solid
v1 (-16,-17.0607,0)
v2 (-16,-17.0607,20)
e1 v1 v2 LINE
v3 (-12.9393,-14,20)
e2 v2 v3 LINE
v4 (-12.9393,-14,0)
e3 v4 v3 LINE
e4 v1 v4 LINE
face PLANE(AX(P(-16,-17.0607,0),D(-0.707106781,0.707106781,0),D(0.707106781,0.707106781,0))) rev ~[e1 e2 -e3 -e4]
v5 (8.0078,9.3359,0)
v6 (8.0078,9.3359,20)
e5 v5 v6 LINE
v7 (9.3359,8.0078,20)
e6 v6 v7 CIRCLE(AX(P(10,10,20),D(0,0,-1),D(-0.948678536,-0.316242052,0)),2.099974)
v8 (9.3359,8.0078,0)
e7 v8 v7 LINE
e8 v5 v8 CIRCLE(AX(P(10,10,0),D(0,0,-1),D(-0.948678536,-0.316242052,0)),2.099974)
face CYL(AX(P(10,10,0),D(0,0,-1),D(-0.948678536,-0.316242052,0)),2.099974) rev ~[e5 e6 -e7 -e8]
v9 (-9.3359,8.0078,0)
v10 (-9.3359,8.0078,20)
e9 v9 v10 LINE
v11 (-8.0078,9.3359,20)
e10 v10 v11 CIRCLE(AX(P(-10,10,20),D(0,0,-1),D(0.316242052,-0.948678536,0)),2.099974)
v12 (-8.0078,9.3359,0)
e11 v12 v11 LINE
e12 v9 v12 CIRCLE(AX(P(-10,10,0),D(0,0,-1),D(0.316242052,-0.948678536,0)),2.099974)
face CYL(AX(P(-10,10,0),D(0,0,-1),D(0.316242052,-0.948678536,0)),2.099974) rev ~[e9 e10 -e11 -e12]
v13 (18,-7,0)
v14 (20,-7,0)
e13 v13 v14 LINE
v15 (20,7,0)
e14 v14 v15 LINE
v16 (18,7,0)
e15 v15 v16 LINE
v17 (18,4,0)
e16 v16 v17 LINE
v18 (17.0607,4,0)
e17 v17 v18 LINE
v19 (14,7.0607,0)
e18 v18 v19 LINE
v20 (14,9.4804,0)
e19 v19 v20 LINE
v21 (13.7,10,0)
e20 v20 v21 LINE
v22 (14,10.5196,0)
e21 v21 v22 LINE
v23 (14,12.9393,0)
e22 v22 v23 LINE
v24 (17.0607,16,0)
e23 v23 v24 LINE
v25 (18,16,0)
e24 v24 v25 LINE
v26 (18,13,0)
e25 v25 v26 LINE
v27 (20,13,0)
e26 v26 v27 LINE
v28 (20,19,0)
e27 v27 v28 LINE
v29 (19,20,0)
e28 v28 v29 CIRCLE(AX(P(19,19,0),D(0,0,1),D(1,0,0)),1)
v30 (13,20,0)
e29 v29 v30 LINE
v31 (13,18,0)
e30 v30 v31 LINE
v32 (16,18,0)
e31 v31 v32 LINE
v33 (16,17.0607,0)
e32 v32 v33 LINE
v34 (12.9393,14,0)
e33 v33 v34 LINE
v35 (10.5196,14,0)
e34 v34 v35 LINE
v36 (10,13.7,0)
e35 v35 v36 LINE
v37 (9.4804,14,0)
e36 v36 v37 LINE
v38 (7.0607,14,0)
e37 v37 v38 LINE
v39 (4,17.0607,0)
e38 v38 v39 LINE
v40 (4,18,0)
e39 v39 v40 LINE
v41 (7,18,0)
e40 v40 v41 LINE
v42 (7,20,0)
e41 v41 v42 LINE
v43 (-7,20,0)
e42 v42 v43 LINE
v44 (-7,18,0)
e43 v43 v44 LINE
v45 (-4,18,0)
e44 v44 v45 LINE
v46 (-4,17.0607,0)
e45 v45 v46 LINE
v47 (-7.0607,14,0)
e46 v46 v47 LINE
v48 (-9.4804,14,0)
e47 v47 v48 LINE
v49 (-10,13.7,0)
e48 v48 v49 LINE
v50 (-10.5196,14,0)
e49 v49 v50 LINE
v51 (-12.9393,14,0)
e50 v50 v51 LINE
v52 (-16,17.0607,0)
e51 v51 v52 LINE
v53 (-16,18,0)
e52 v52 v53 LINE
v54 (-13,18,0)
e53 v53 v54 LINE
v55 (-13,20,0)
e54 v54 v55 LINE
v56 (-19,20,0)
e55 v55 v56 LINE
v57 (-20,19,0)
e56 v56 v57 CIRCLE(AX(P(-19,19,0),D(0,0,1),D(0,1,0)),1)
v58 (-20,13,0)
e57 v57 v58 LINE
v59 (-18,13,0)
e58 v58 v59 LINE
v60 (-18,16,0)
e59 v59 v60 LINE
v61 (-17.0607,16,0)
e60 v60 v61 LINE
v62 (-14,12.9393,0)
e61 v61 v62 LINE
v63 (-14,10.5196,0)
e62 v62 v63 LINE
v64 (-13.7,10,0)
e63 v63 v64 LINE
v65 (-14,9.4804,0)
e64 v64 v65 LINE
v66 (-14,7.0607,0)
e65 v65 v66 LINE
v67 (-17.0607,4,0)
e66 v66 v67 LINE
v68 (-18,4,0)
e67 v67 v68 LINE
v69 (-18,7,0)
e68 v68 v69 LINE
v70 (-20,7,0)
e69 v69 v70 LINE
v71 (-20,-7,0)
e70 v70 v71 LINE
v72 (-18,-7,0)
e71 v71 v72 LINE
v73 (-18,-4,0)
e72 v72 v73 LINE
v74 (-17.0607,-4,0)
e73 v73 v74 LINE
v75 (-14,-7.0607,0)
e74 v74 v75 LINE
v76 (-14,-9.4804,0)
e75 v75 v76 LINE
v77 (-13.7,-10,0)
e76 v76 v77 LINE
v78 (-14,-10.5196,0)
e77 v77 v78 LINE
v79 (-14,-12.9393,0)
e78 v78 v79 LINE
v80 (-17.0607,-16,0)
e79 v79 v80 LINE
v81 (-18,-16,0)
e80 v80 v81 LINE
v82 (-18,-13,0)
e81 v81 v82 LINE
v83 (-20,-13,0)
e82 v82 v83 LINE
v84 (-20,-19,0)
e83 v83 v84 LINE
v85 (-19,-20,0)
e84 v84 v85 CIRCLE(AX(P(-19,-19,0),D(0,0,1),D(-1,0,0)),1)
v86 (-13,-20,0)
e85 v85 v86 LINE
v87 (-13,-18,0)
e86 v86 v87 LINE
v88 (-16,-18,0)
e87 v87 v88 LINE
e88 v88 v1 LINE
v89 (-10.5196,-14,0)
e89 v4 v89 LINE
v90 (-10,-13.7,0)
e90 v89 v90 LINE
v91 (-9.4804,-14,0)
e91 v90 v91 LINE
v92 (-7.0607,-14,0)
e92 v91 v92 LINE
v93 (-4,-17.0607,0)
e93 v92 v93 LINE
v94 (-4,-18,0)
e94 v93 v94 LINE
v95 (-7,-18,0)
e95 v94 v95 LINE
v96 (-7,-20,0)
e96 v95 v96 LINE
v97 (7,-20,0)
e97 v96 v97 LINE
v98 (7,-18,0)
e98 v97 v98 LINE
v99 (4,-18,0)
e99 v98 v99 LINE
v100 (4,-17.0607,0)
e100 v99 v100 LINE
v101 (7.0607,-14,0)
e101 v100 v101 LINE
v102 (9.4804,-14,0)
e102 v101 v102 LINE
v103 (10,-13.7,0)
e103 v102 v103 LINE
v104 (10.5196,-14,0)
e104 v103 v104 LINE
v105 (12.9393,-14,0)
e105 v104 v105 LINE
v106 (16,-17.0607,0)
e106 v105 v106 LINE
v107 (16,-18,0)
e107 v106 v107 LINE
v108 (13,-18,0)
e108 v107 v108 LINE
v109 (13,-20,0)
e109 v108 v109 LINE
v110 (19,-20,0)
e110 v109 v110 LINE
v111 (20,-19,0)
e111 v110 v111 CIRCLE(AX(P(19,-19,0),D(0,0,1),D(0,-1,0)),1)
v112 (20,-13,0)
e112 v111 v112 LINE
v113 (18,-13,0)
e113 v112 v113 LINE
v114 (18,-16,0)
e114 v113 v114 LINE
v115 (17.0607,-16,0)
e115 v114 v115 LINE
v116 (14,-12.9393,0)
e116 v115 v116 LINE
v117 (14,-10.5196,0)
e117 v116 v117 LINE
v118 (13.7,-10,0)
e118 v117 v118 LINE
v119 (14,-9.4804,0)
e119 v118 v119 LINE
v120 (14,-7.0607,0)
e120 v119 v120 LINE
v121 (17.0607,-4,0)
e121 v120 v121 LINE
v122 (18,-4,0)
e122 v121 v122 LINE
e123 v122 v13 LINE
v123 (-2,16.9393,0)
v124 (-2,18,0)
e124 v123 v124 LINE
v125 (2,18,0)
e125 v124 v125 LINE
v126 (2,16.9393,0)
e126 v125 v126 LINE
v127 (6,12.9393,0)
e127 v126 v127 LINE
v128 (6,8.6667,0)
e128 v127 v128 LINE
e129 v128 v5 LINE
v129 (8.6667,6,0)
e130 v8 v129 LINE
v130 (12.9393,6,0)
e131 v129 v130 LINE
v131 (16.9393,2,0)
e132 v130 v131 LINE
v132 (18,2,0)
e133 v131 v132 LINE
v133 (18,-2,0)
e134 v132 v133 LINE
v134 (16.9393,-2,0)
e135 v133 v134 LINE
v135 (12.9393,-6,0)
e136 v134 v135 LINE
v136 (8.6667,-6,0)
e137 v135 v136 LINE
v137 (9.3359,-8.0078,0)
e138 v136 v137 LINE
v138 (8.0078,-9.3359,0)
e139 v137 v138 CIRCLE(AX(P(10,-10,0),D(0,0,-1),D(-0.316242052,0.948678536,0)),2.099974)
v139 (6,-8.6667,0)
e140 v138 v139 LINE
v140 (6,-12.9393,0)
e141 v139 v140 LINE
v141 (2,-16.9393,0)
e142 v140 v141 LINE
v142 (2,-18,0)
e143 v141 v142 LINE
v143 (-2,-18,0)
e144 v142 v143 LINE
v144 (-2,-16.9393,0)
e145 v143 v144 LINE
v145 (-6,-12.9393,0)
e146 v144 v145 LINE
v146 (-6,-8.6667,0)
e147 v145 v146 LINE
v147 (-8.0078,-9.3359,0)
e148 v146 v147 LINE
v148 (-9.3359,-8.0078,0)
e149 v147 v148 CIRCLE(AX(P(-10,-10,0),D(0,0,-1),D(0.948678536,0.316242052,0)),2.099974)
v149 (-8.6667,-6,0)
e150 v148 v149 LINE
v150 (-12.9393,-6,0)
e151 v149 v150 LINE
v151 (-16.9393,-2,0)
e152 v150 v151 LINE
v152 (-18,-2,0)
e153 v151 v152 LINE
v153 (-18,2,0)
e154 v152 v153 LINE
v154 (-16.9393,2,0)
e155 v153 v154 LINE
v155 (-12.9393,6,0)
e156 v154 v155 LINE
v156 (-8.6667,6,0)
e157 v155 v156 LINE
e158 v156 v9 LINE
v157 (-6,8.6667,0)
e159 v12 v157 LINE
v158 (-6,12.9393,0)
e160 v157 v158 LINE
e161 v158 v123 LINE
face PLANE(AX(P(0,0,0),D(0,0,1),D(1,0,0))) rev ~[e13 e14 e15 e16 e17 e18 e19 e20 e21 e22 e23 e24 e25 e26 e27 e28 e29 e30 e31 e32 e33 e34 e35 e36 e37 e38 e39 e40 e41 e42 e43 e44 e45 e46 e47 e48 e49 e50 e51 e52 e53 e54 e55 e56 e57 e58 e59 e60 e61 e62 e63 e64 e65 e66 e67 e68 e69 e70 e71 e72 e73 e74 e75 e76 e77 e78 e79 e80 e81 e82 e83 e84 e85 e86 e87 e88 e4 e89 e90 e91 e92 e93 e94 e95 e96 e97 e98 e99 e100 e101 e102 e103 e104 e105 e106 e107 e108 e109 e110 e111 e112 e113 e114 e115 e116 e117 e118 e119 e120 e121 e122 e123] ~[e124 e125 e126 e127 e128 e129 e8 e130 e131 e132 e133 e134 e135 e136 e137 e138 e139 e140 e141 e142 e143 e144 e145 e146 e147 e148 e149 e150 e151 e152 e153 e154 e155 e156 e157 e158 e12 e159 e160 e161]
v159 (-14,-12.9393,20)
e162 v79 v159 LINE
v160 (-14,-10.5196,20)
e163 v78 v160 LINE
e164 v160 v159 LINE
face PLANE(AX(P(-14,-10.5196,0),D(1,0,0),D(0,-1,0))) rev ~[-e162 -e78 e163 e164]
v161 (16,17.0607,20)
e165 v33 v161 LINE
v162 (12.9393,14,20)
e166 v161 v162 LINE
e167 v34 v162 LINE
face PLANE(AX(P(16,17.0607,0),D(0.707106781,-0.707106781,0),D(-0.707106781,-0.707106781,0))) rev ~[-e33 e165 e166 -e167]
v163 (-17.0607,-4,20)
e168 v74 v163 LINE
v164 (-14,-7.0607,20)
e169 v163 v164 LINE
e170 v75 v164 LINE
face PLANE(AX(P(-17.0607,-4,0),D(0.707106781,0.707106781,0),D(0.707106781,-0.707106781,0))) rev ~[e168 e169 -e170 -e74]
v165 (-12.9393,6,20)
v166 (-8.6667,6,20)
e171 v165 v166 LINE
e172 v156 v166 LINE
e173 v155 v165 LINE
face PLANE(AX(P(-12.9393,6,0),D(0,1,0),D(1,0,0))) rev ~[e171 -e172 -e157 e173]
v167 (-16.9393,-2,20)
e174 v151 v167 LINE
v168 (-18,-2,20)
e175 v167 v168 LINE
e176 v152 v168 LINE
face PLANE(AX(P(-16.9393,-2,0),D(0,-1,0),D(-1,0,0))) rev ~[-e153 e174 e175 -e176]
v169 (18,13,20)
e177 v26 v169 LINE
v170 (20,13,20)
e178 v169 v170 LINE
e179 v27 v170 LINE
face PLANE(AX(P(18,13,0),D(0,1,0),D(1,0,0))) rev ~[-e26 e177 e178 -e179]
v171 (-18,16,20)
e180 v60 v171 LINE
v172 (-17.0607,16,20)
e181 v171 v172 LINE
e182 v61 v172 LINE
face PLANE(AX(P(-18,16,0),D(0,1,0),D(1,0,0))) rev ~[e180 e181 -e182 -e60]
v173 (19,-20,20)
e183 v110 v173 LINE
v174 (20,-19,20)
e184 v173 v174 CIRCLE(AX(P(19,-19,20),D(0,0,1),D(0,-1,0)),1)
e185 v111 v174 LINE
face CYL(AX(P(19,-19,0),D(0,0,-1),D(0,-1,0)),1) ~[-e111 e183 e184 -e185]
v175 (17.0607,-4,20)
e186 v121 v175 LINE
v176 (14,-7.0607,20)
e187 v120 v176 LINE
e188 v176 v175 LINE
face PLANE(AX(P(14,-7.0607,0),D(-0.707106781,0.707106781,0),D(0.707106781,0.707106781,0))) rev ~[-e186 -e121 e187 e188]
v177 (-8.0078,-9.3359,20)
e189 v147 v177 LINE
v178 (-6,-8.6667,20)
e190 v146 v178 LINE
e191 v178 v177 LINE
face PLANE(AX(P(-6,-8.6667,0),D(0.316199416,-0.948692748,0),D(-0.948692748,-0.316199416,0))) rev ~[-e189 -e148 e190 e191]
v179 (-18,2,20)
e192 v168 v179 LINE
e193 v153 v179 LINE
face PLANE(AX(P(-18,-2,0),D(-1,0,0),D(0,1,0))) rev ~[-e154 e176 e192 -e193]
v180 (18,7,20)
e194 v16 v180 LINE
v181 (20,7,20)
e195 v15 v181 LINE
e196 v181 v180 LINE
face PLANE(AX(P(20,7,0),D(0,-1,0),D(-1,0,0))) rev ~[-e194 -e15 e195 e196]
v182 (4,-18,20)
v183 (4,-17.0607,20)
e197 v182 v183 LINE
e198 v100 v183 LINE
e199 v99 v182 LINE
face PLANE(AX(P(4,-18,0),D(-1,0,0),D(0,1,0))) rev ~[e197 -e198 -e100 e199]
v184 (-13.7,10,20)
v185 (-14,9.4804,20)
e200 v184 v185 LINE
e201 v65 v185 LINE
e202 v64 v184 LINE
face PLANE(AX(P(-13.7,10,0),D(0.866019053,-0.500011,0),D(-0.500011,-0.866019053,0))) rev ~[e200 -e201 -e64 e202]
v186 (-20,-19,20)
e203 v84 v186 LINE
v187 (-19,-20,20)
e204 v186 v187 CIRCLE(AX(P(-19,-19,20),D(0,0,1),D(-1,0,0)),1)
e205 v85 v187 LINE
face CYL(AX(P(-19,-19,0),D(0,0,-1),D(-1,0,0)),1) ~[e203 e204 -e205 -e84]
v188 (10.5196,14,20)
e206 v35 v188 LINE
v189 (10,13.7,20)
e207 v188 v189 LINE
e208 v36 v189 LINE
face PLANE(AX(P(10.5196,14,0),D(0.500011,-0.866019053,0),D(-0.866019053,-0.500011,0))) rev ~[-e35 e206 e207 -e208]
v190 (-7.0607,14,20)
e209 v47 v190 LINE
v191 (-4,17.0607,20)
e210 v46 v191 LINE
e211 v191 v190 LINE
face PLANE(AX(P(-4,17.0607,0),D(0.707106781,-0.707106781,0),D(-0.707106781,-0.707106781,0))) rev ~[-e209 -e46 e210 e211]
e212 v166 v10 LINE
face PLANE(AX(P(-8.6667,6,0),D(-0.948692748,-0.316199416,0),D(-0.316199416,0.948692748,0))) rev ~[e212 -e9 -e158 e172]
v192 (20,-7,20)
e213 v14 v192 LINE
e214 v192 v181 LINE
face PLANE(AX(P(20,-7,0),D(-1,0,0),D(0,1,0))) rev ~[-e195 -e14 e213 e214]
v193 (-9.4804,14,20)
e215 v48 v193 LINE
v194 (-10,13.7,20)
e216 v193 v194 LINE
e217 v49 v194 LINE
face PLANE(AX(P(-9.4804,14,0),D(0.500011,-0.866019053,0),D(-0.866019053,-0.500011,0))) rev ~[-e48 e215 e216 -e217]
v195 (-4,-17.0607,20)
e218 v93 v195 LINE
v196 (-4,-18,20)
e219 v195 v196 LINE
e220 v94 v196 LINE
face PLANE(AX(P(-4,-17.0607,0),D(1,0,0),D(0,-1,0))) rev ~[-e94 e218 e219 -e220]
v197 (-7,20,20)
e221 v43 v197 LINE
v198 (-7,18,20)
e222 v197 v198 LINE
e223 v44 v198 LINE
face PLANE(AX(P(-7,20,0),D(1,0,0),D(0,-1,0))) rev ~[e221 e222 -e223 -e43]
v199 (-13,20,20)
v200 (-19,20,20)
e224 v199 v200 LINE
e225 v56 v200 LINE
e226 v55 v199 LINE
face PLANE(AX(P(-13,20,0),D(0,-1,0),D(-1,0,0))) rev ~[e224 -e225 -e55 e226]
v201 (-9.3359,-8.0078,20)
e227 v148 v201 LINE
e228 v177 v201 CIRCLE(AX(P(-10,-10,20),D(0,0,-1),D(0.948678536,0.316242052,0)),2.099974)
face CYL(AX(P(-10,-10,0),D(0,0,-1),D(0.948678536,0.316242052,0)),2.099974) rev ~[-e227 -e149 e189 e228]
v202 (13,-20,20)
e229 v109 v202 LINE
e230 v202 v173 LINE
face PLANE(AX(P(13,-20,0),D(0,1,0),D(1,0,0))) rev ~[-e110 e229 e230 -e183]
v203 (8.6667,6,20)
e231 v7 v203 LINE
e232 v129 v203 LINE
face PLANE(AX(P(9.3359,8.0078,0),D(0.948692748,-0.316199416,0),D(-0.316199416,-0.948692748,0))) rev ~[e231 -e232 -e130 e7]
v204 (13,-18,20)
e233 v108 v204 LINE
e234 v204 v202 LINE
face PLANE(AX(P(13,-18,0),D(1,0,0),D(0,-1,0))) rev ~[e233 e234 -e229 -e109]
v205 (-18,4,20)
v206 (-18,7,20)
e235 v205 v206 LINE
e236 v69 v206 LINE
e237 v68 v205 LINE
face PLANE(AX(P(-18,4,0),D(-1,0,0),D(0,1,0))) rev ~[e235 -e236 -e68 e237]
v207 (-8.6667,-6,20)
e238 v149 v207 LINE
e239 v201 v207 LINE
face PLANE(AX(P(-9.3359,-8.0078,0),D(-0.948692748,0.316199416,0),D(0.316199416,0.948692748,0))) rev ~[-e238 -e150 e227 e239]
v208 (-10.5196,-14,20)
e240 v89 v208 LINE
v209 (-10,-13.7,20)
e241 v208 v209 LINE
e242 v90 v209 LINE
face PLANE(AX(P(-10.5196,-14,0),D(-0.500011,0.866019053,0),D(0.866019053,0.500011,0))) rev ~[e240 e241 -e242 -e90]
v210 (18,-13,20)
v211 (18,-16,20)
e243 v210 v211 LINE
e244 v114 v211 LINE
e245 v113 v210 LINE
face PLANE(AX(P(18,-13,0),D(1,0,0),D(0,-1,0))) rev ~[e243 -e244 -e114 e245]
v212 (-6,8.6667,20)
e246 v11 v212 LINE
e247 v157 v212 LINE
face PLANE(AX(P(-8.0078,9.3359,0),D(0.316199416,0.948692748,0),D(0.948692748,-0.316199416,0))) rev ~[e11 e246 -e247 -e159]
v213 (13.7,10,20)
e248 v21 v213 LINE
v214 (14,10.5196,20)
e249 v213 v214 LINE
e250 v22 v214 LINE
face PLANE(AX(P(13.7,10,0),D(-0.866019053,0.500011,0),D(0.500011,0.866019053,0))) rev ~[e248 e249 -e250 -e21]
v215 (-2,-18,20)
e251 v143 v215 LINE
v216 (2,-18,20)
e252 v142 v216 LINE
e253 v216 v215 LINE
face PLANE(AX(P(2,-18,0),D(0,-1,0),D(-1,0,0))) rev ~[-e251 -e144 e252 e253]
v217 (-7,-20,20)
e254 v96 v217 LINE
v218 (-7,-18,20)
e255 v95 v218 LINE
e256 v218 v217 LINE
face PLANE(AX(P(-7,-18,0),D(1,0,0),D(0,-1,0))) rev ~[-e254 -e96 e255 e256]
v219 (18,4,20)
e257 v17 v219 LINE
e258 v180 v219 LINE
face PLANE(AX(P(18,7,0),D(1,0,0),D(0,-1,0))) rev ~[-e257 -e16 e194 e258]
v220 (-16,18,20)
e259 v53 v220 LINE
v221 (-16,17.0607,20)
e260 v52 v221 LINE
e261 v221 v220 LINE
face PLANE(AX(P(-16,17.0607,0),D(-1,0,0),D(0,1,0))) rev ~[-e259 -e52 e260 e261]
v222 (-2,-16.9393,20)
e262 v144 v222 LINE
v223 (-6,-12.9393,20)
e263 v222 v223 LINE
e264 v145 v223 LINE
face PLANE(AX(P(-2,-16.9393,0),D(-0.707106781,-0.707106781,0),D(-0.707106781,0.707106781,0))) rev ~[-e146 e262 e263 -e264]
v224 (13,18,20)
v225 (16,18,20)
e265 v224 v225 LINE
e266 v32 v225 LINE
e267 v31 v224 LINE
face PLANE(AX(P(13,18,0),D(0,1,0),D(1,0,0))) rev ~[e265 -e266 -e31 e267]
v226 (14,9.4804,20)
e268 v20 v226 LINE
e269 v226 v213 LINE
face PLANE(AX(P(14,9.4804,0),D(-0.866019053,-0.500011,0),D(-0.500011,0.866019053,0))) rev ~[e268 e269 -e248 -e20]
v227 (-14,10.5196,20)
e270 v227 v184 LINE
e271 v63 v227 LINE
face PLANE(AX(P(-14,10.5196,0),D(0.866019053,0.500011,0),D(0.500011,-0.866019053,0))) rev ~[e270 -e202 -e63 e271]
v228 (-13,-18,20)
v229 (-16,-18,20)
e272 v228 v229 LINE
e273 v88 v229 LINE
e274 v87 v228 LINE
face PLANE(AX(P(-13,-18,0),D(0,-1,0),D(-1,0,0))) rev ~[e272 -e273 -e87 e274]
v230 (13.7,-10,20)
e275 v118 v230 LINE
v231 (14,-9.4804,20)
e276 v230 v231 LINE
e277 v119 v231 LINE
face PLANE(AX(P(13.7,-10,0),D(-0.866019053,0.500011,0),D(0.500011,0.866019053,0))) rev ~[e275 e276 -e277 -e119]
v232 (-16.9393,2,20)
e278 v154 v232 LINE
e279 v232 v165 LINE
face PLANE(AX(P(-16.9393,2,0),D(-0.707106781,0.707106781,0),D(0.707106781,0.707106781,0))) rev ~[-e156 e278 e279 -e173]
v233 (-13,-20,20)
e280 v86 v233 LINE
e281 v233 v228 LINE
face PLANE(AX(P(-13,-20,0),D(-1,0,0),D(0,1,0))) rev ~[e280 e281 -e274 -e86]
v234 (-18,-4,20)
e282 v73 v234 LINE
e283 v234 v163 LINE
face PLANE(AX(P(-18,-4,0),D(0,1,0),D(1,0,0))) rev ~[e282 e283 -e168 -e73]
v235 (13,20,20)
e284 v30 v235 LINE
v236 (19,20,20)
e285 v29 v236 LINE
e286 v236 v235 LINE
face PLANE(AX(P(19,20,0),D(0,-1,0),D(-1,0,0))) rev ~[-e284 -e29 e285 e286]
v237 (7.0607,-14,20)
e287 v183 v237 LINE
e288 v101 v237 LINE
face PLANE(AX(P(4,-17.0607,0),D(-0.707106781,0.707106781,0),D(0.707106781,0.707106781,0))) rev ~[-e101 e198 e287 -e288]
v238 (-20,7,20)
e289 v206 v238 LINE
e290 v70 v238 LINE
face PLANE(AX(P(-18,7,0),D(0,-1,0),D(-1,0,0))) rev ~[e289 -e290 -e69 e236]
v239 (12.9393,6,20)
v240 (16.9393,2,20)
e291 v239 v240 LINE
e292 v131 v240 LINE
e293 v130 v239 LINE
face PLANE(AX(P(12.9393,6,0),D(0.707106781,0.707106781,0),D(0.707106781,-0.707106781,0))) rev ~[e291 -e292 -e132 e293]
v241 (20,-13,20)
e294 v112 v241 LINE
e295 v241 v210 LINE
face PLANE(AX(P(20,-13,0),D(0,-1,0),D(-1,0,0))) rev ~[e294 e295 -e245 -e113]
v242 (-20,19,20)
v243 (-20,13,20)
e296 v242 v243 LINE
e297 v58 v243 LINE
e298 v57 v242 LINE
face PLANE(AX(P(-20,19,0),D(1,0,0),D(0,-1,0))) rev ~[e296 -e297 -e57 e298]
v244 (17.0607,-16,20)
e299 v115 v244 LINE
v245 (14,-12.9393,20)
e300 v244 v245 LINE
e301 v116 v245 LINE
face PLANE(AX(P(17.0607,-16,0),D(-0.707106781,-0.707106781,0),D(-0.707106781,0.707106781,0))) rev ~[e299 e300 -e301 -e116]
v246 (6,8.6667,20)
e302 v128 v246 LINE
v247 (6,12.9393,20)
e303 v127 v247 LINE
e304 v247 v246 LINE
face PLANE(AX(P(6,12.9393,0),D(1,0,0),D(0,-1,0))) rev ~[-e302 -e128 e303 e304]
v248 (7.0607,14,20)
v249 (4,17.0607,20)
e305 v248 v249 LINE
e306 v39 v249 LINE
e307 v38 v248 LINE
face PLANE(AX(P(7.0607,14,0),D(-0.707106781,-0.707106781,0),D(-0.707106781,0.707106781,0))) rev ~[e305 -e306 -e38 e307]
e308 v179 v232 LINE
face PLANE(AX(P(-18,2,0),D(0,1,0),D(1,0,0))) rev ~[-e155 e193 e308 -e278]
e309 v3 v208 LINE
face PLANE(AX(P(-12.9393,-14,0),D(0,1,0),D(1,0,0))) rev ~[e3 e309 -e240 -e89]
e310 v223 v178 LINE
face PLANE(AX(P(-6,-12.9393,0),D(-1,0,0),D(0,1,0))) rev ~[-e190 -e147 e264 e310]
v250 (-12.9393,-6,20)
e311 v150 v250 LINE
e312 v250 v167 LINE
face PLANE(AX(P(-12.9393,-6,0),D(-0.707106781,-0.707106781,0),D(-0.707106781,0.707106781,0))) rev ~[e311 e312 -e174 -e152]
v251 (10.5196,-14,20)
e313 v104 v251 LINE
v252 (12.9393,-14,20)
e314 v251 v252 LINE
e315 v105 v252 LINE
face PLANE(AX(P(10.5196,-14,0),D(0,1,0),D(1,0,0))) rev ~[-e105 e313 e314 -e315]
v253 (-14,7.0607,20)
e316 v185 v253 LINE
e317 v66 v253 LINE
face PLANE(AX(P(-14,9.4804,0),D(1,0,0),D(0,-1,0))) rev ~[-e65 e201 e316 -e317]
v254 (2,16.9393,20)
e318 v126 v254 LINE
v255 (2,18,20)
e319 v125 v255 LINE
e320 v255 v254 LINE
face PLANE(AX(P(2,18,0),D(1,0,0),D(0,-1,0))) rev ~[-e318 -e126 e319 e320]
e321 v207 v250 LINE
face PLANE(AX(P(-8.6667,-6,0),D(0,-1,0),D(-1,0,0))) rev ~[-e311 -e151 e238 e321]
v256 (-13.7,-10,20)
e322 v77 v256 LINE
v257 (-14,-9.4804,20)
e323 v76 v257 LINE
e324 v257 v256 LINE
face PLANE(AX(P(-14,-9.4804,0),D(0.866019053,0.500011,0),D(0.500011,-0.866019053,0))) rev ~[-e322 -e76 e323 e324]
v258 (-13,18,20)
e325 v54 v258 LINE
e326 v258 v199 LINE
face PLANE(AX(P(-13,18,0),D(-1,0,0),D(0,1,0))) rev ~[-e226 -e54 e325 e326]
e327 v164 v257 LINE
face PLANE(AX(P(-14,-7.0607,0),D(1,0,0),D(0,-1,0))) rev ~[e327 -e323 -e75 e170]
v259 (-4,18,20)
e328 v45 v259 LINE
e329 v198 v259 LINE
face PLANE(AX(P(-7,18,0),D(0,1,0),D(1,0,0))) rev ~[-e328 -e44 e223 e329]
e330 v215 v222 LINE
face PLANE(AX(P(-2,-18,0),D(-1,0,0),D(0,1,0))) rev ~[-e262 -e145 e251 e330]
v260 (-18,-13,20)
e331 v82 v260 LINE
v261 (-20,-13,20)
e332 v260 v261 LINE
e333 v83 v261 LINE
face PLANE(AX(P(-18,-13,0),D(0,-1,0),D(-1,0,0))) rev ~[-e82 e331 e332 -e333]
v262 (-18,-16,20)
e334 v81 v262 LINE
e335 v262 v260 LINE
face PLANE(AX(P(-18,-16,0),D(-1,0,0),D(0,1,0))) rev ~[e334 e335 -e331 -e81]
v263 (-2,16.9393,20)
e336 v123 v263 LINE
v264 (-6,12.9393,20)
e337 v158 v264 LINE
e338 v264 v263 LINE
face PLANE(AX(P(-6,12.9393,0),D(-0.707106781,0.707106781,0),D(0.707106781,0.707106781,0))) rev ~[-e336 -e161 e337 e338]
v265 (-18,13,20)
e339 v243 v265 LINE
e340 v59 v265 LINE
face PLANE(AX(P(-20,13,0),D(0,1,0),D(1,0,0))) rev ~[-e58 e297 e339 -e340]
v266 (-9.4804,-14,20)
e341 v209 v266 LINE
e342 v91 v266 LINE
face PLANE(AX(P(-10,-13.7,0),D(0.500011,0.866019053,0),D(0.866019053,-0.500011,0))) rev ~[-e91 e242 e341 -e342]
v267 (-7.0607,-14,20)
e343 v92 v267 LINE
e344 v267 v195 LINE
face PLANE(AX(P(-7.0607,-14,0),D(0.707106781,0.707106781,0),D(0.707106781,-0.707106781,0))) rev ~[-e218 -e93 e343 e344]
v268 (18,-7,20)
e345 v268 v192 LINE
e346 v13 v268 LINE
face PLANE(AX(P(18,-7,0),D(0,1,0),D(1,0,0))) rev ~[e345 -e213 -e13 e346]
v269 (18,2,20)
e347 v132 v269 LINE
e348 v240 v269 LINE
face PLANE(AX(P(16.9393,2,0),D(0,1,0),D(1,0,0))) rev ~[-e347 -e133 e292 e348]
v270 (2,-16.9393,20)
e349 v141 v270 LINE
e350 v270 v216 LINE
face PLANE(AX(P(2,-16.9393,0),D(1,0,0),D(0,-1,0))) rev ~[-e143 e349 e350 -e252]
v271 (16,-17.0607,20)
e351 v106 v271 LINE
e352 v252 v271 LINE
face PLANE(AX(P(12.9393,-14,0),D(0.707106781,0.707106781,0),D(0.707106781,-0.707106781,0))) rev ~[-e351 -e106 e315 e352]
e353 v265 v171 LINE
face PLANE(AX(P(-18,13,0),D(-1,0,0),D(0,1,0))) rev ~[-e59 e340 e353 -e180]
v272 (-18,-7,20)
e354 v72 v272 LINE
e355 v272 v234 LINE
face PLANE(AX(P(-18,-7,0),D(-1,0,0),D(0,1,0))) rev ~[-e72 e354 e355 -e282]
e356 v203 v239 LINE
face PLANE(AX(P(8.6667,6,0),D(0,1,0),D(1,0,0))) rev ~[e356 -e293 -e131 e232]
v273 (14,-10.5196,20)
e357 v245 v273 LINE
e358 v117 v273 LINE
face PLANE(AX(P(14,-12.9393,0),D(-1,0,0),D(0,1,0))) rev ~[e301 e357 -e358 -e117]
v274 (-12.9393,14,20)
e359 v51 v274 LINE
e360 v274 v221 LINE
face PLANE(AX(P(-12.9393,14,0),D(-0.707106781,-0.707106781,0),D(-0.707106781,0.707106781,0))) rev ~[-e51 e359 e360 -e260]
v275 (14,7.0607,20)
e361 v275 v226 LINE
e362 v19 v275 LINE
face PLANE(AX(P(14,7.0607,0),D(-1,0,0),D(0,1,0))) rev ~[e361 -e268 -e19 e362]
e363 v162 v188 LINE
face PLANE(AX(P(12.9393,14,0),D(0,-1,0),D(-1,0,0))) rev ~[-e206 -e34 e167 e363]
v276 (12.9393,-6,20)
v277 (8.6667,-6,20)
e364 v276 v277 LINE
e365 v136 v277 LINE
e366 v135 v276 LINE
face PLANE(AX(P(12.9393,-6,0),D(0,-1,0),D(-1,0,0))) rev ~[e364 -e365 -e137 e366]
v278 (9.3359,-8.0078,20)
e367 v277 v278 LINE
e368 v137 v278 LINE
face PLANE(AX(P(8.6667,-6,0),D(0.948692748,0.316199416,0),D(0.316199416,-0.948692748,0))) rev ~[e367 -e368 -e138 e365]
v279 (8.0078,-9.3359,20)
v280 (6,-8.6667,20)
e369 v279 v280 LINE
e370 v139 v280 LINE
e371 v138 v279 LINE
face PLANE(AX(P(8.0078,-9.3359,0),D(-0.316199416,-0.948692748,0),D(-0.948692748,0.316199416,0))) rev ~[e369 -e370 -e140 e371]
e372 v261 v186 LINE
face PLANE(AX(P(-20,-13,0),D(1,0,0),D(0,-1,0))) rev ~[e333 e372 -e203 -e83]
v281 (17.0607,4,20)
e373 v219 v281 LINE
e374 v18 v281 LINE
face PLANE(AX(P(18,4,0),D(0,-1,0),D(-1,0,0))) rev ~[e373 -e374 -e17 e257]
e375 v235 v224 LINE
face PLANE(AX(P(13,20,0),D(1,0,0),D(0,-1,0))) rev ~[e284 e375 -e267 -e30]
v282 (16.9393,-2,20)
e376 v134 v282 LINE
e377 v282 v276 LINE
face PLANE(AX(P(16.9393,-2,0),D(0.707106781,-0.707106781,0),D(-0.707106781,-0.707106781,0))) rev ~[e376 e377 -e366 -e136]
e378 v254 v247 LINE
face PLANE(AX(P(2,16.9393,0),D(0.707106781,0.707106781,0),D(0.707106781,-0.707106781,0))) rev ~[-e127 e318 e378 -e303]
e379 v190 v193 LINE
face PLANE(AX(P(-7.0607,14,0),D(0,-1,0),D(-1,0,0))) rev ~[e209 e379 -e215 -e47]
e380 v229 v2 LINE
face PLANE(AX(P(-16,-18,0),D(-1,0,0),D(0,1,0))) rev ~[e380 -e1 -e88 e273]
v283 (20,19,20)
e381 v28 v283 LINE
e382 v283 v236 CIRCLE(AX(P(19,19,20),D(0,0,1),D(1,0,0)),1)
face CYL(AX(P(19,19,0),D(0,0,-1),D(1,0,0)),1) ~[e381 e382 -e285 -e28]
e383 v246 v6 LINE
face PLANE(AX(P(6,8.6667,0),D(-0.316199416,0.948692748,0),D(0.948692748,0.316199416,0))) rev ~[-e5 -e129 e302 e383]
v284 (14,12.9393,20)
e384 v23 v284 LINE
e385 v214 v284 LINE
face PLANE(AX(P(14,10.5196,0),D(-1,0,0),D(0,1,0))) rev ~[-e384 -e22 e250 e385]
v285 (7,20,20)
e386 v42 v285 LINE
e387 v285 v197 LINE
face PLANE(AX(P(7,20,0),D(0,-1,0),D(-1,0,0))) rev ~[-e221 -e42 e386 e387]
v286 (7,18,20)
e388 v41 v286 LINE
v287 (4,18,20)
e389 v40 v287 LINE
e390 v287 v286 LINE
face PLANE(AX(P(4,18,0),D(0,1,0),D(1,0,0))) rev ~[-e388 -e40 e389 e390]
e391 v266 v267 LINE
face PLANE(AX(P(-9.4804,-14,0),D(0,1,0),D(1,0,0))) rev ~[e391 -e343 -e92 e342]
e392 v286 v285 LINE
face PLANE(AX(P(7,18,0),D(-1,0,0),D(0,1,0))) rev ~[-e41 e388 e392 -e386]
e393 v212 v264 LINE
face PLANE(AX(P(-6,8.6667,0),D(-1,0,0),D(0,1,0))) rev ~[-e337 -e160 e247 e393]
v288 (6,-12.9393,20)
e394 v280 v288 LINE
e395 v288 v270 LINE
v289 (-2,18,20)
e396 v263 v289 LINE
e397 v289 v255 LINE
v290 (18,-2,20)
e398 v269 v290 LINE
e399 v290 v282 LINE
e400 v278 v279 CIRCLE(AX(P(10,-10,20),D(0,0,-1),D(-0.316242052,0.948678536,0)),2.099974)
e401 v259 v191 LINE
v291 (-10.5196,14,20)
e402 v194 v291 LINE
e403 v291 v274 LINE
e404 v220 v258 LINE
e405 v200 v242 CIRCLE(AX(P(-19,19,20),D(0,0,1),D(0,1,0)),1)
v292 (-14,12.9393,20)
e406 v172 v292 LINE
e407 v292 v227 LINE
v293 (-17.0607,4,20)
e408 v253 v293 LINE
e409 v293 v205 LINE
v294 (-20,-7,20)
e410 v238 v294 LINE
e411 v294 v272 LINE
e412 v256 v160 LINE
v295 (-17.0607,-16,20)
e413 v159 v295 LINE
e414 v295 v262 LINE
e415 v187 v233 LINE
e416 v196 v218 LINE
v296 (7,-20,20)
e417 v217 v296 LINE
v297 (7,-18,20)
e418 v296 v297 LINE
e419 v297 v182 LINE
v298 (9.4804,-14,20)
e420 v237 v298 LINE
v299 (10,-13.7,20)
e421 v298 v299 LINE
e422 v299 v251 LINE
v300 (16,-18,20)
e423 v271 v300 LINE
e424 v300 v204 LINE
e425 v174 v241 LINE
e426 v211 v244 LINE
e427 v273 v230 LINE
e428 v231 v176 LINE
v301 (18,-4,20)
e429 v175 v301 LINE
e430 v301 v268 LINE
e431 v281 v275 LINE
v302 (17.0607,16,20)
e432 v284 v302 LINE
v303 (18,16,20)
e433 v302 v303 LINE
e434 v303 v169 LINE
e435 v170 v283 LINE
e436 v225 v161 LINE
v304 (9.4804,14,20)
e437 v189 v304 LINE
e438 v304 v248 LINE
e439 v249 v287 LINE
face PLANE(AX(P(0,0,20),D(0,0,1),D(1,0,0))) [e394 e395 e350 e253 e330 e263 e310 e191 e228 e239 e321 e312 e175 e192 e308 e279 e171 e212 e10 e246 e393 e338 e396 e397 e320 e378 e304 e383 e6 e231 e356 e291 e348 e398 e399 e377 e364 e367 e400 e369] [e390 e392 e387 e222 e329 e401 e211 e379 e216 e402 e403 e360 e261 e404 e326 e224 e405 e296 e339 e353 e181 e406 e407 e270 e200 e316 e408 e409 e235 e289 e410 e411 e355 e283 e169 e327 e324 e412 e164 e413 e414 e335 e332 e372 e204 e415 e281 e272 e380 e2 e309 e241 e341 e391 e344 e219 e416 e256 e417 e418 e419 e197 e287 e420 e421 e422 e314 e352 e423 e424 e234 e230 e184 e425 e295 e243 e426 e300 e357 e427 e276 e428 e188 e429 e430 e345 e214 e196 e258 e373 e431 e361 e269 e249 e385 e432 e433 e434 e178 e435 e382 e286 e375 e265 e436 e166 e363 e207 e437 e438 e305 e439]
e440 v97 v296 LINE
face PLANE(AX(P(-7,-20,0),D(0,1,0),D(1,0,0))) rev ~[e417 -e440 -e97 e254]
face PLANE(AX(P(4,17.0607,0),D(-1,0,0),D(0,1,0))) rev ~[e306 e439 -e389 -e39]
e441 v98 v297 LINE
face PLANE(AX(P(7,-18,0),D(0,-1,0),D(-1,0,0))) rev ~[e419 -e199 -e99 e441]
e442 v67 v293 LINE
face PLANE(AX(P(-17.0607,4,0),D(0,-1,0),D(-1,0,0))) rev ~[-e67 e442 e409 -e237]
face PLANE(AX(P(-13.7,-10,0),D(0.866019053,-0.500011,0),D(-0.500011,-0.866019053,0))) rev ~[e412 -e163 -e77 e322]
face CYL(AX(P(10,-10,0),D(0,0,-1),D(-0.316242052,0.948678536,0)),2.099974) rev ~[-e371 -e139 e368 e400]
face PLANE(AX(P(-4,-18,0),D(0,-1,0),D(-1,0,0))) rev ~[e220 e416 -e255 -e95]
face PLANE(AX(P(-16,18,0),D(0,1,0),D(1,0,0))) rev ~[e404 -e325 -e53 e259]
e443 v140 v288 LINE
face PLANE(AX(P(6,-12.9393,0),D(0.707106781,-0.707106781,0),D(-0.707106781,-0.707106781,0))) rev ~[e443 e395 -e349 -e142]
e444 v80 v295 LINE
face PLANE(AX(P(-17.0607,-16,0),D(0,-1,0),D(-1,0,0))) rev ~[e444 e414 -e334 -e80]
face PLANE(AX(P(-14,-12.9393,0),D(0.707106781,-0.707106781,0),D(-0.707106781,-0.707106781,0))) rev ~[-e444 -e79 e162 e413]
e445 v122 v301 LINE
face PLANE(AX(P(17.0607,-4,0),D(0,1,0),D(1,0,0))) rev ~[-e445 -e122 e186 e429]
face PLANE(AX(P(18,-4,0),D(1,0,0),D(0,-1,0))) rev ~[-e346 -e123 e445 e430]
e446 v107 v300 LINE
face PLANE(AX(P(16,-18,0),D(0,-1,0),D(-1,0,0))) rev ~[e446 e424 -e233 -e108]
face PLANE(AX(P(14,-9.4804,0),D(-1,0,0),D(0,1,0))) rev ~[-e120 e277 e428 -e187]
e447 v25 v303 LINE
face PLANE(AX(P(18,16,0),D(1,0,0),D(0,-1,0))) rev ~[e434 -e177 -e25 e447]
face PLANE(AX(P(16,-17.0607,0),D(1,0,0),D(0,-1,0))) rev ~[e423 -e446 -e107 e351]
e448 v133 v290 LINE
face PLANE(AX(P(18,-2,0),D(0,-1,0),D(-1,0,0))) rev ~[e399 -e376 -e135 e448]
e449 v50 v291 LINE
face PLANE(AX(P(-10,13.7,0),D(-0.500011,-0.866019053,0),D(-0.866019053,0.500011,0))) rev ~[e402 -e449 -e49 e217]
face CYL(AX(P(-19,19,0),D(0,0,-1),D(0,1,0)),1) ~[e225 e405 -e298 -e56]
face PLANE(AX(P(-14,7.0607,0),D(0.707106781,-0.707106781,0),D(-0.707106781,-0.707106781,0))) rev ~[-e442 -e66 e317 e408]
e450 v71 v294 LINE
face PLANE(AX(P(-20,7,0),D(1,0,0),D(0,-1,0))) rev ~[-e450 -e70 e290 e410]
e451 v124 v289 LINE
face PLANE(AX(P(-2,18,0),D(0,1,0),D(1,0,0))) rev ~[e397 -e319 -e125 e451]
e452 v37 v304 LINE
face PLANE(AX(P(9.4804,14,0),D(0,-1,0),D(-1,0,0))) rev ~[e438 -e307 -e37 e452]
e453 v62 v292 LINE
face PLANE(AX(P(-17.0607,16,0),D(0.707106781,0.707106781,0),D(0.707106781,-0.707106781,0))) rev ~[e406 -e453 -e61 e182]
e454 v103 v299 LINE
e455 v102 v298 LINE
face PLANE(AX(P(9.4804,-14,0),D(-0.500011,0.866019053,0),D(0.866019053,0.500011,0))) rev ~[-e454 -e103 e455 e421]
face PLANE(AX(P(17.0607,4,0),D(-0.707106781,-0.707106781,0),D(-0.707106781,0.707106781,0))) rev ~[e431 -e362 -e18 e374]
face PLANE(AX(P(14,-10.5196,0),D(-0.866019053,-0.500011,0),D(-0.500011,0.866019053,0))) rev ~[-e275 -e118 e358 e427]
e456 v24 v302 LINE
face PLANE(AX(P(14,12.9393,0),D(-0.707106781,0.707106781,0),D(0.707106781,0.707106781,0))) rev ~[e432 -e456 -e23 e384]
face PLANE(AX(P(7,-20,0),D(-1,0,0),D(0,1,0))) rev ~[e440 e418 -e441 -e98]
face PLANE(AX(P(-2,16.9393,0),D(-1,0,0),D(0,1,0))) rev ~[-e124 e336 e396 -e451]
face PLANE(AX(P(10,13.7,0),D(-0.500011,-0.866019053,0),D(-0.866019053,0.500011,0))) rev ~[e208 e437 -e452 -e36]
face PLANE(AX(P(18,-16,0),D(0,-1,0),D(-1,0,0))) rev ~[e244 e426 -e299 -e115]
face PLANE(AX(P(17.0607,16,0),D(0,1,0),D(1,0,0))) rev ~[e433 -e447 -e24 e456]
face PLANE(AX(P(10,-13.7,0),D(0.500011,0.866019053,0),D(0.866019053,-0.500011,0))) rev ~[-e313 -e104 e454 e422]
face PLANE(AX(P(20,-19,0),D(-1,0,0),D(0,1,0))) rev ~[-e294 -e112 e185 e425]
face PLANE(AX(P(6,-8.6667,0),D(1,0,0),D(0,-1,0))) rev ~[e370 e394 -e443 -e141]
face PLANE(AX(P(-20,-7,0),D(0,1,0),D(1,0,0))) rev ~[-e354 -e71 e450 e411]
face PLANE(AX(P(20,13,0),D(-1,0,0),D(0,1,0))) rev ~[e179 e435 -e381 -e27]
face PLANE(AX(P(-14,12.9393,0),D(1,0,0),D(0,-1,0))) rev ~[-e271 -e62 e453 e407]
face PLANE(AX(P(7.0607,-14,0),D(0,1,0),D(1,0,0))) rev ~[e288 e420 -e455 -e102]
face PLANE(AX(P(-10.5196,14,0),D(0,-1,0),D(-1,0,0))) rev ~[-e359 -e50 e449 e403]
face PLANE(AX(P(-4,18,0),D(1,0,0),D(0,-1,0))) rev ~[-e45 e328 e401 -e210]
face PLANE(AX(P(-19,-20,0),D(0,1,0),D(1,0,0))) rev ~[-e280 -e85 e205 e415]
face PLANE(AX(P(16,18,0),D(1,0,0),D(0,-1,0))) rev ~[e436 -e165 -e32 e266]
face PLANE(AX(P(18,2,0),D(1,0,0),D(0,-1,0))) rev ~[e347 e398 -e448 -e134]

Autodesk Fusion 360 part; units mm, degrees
sketch "Sketch1" plane through (0, 0, 0) normal (0, 0, 1) x (1, 0, 0)
  line L0 (14, 12.9393) -> (17.0607, 16)
  arc A0 (20, 19) -> (19, 20) centre (19, 19) ccw
  line L1 (18, 16) -> (18, 13)
  line L2 (17.0607, 4) -> (14, 7.0607)
  line L3 (-7, 20) -> (-7, 18)
  line L4 (-7, 18) -> (-4, 18)
  line L5 (-4, 18) -> (-4, 17.0607)
  line L6 (14, 9.4804) -> (13.7, 10)
  line L7 (9.4804, 14) -> (7.0607, 14)
  line L8 (14, 10.5196) -> (14, 12.9393)
  line L9 (12.9393, 14) -> (10.5196, 14)
  line L10 (7, 18) -> (7, 20)
  line L11 (20, 13) -> (20, 19)
  line L12 (14, 7.0607) -> (14, 9.4804)
  line L13 (17.0607, 16) -> (18, 16)
  line L14 (7, 20) -> (-7, 20)
  line L15 (20, 7) -> (18, 7)
  line L16 (13, 18) -> (16, 18)
  line L17 (7.0607, 14) -> (4, 17.0607)
  line L18 (4, 18) -> (7, 18)
  line L19 (18, 4) -> (17.0607, 4)
  line L20 (16, 18) -> (16, 17.0607)
  line L21 (10, 13.7) -> (9.4804, 14)
  line L22 (20, -7) -> (20, 7)
  line L23 (16, 17.0607) -> (12.9393, 14)
  line L24 (18, 7) -> (18, 4)
  line L25 (13.7, 10) -> (14, 10.5196)
  line L26 (18, 13) -> (20, 13)
  line L27 (10.5196, 14) -> (10, 13.7)
  line L28 (4, 17.0607) -> (4, 18)
  line L29 (13, 20) -> (13, 18)
  line L30 (19, 20) -> (13, 20)
  line L31 (-7, -18) -> (-7, -20)
  line L32 (7.0607, -14) -> (9.4804, -14)
  line L33 (16, -17.0607) -> (16, -18)
  line L34 (-18, 16) -> (-17.0607, 16)
  line L35 (-14, -9.4804) -> (-13.7, -10)
  line L36 (-18, 7) -> (-20, 7)
  line L37 (-18, -13) -> (-20, -13)
  line L38 (-16, 17.0607) -> (-16, 18)
  line L39 (-18, 13) -> (-18, 16)
  line L40 (-14, 12.9393) -> (-14, 10.5196)
  line L41 (-14, -7.0607) -> (-14, -9.4804)
  line L42 (-12.9393, -14) -> (-10.5196, -14)
  line L43 (-17.0607, 16) -> (-14, 12.9393)
  line L44 (-13.7, -10) -> (-14, -10.5196)
  line L45 (-16, -17.0607) -> (-12.9393, -14)
  line L46 (-14, -12.9393) -> (-17.0607, -16)
  line L47 (-16, -18) -> (-16, -17.0607)
  line L48 (-13, 18) -> (-13, 20)
  line L49 (-7.0607, -14) -> (-4, -17.0607)
  line L50 (-16, 18) -> (-13, 18)
  line L51 (-9.4804, 14) -> (-10, 13.7)
  line L52 (-10, 13.7) -> (-10.5196, 14)
  line L53 (-13, -18) -> (-16, -18)
  line L54 (-4, 17.0607) -> (-7.0607, 14)
  line L55 (-18, -16) -> (-18, -13)
  line L56 (-9.4804, -14) -> (-7.0607, -14)
  line L57 (-7, -20) -> (7, -20)
  line L58 (-20, -13) -> (-20, -19)
  line L59 (-10, -13.7) -> (-9.4804, -14)
  line L60 (-13, 20) -> (-19, 20)
  line L61 (-14, 10.5196) -> (-13.7, 10)
  line L62 (-17.0607, 4) -> (-18, 4)
  line L63 (7, -18) -> (4, -18)
  line L64 (-18, -7) -> (-18, -4)
  line L65 (-19, -20) -> (-13, -20)
  line L66 (10.5196, -14) -> (12.9393, -14)
  line L67 (7, -20) -> (7, -18)
  line L68 (-20, 7) -> (-20, -7)
  line L69 (-17.0607, -16) -> (-18, -16)
  line L70 (-14, 7.0607) -> (-17.0607, 4)
  arc A1 (-20, -19) -> (-19, -20) centre (-19, -19) ccw
  line L71 (4, -18) -> (4, -17.0607)
  line L72 (16, -18) -> (13, -18)
  line L73 (-17.0607, -4) -> (-14, -7.0607)
  line L74 (-4, -18) -> (-7, -18)
  line L75 (-14, 9.4804) -> (-14, 7.0607)
  line L76 (13, -20) -> (19, -20)
  line L77 (-7.0607, 14) -> (-9.4804, 14)
  line L78 (9.4804, -14) -> (10, -13.7)
  line L79 (18, -4) -> (18, -7)
  line L80 (-4, -17.0607) -> (-4, -18)
  line L81 (10, -13.7) -> (10.5196, -14)
  line L82 (-12.9393, 14) -> (-16, 17.0607)
  line L83 (-10.5196, -14) -> (-10, -13.7)
  line L84 (-20, 19) -> (-20, 13)
  line L85 (-10.5196, 14) -> (-12.9393, 14)
  line L86 (-13, -20) -> (-13, -18)
  line L87 (-20, 13) -> (-18, 13)
  line L88 (-20, -7) -> (-18, -7)
  line L89 (-18, -4) -> (-17.0607, -4)
  arc A2 (-19, 20) -> (-20, 19) centre (-19, 19) ccw
  line L90 (20, -19) -> (20, -13)
  line L91 (12.9393, -14) -> (16, -17.0607)
  line L92 (14, -12.9393) -> (14, -10.5196)
  line L93 (14, -10.5196) -> (13.7, -10)
  line L94 (13.7, -10) -> (14, -9.4804)
  line L95 (-14, -10.5196) -> (-14, -12.9393)
  line L96 (-18, 4) -> (-18, 7)
  line L97 (4, -17.0607) -> (7.0607, -14)
  line L98 (-13.7, 10) -> (-14, 9.4804)
  line L99 (14, -7.0607) -> (17.0607, -4)
  line L100 (18, -16) -> (17.0607, -16)
  line L101 (18, -13) -> (18, -16)
  line L102 (20, -13) -> (18, -13)
  line L103 (13, -18) -> (13, -20)
  line L104 (17.0607, -16) -> (14, -12.9393)
  arc A3 (19, -20) -> (20, -19) centre (19, -19) ccw
  line L105 (17.0607, -4) -> (18, -4)
  line L106 (18, -7) -> (20, -7)
  line L107 (14, -9.4804) -> (14, -7.0607)
  line L108 (6, 8.6667) -> (8.0078, 9.3359)
  line L109 (16.9393, -2) -> (12.9393, -6)
  arc A4 (9.3359, -8.0078) -> (8.0078, -9.3359) centre (10, -10) cw
  line L110 (-18, -2) -> (-18, 2)
  line L111 (18, -2) -> (16.9393, -2)
  line L112 (-2, 16.9393) -> (-2, 18)
  line L113 (-8.0078, 9.3359) -> (-6, 8.6667)
  line L114 (2, -16.9393) -> (2, -18)
  line L115 (12.9393, 6) -> (16.9393, 2)
  line L116 (-18, 2) -> (-16.9393, 2)
  line L117 (-9.3359, -8.0078) -> (-8.6667, -6)
  line L118 (-6, -8.6667) -> (-8.0078, -9.3359)
  line L119 (-12.9393, 6) -> (-8.6667, 6)
  line L120 (2, 18) -> (2, 16.9393)
  arc A5 (8.0078, 9.3359) -> (9.3359, 8.0078) centre (10, 10) cw
  line L121 (-6, -12.9393) -> (-6, -8.6667)
  line L122 (-16.9393, 2) -> (-12.9393, 6)
  line L123 (6, -12.9393) -> (2, -16.9393)
  line L124 (8.6667, -6) -> (9.3359, -8.0078)
  line L125 (-8.6667, -6) -> (-12.9393, -6)
  line L126 (-16.9393, -2) -> (-18, -2)
  line L127 (-2, -16.9393) -> (-6, -12.9393)
  line L128 (18, 2) -> (18, -2)
  line L129 (-2, 18) -> (2, 18)
  line L130 (-2, -18) -> (-2, -16.9393)
  line L131 (2, -18) -> (-2, -18)
  line L132 (12.9393, -6) -> (8.6667, -6)
  line L133 (-12.9393, -6) -> (-16.9393, -2)
  line L134 (6, 12.9393) -> (6, 8.6667)
  arc A6 (-8.0078, -9.3359) -> (-9.3359, -8.0078) centre (-10, -10) cw
  line L135 (2, 16.9393) -> (6, 12.9393)
  line L136 (9.3359, 8.0078) -> (8.6667, 6)
  line L137 (8.6667, 6) -> (12.9393, 6)
  line L138 (-6, 12.9393) -> (-2, 16.9393)
  line L139 (16.9393, 2) -> (18, 2)
  line L140 (8.0078, -9.3359) -> (6, -8.6667)
  line L141 (6, -8.6667) -> (6, -12.9393)
  arc A7 (-9.3359, 8.0078) -> (-8.0078, 9.3359) centre (-10, 10) cw
  line L142 (-6, 8.6667) -> (-6, 12.9393)
  line L143 (-8.6667, 6) -> (-9.3359, 8.0078)
extrude "Extrude1" add sketch "Sketch1" along normal blind 20
